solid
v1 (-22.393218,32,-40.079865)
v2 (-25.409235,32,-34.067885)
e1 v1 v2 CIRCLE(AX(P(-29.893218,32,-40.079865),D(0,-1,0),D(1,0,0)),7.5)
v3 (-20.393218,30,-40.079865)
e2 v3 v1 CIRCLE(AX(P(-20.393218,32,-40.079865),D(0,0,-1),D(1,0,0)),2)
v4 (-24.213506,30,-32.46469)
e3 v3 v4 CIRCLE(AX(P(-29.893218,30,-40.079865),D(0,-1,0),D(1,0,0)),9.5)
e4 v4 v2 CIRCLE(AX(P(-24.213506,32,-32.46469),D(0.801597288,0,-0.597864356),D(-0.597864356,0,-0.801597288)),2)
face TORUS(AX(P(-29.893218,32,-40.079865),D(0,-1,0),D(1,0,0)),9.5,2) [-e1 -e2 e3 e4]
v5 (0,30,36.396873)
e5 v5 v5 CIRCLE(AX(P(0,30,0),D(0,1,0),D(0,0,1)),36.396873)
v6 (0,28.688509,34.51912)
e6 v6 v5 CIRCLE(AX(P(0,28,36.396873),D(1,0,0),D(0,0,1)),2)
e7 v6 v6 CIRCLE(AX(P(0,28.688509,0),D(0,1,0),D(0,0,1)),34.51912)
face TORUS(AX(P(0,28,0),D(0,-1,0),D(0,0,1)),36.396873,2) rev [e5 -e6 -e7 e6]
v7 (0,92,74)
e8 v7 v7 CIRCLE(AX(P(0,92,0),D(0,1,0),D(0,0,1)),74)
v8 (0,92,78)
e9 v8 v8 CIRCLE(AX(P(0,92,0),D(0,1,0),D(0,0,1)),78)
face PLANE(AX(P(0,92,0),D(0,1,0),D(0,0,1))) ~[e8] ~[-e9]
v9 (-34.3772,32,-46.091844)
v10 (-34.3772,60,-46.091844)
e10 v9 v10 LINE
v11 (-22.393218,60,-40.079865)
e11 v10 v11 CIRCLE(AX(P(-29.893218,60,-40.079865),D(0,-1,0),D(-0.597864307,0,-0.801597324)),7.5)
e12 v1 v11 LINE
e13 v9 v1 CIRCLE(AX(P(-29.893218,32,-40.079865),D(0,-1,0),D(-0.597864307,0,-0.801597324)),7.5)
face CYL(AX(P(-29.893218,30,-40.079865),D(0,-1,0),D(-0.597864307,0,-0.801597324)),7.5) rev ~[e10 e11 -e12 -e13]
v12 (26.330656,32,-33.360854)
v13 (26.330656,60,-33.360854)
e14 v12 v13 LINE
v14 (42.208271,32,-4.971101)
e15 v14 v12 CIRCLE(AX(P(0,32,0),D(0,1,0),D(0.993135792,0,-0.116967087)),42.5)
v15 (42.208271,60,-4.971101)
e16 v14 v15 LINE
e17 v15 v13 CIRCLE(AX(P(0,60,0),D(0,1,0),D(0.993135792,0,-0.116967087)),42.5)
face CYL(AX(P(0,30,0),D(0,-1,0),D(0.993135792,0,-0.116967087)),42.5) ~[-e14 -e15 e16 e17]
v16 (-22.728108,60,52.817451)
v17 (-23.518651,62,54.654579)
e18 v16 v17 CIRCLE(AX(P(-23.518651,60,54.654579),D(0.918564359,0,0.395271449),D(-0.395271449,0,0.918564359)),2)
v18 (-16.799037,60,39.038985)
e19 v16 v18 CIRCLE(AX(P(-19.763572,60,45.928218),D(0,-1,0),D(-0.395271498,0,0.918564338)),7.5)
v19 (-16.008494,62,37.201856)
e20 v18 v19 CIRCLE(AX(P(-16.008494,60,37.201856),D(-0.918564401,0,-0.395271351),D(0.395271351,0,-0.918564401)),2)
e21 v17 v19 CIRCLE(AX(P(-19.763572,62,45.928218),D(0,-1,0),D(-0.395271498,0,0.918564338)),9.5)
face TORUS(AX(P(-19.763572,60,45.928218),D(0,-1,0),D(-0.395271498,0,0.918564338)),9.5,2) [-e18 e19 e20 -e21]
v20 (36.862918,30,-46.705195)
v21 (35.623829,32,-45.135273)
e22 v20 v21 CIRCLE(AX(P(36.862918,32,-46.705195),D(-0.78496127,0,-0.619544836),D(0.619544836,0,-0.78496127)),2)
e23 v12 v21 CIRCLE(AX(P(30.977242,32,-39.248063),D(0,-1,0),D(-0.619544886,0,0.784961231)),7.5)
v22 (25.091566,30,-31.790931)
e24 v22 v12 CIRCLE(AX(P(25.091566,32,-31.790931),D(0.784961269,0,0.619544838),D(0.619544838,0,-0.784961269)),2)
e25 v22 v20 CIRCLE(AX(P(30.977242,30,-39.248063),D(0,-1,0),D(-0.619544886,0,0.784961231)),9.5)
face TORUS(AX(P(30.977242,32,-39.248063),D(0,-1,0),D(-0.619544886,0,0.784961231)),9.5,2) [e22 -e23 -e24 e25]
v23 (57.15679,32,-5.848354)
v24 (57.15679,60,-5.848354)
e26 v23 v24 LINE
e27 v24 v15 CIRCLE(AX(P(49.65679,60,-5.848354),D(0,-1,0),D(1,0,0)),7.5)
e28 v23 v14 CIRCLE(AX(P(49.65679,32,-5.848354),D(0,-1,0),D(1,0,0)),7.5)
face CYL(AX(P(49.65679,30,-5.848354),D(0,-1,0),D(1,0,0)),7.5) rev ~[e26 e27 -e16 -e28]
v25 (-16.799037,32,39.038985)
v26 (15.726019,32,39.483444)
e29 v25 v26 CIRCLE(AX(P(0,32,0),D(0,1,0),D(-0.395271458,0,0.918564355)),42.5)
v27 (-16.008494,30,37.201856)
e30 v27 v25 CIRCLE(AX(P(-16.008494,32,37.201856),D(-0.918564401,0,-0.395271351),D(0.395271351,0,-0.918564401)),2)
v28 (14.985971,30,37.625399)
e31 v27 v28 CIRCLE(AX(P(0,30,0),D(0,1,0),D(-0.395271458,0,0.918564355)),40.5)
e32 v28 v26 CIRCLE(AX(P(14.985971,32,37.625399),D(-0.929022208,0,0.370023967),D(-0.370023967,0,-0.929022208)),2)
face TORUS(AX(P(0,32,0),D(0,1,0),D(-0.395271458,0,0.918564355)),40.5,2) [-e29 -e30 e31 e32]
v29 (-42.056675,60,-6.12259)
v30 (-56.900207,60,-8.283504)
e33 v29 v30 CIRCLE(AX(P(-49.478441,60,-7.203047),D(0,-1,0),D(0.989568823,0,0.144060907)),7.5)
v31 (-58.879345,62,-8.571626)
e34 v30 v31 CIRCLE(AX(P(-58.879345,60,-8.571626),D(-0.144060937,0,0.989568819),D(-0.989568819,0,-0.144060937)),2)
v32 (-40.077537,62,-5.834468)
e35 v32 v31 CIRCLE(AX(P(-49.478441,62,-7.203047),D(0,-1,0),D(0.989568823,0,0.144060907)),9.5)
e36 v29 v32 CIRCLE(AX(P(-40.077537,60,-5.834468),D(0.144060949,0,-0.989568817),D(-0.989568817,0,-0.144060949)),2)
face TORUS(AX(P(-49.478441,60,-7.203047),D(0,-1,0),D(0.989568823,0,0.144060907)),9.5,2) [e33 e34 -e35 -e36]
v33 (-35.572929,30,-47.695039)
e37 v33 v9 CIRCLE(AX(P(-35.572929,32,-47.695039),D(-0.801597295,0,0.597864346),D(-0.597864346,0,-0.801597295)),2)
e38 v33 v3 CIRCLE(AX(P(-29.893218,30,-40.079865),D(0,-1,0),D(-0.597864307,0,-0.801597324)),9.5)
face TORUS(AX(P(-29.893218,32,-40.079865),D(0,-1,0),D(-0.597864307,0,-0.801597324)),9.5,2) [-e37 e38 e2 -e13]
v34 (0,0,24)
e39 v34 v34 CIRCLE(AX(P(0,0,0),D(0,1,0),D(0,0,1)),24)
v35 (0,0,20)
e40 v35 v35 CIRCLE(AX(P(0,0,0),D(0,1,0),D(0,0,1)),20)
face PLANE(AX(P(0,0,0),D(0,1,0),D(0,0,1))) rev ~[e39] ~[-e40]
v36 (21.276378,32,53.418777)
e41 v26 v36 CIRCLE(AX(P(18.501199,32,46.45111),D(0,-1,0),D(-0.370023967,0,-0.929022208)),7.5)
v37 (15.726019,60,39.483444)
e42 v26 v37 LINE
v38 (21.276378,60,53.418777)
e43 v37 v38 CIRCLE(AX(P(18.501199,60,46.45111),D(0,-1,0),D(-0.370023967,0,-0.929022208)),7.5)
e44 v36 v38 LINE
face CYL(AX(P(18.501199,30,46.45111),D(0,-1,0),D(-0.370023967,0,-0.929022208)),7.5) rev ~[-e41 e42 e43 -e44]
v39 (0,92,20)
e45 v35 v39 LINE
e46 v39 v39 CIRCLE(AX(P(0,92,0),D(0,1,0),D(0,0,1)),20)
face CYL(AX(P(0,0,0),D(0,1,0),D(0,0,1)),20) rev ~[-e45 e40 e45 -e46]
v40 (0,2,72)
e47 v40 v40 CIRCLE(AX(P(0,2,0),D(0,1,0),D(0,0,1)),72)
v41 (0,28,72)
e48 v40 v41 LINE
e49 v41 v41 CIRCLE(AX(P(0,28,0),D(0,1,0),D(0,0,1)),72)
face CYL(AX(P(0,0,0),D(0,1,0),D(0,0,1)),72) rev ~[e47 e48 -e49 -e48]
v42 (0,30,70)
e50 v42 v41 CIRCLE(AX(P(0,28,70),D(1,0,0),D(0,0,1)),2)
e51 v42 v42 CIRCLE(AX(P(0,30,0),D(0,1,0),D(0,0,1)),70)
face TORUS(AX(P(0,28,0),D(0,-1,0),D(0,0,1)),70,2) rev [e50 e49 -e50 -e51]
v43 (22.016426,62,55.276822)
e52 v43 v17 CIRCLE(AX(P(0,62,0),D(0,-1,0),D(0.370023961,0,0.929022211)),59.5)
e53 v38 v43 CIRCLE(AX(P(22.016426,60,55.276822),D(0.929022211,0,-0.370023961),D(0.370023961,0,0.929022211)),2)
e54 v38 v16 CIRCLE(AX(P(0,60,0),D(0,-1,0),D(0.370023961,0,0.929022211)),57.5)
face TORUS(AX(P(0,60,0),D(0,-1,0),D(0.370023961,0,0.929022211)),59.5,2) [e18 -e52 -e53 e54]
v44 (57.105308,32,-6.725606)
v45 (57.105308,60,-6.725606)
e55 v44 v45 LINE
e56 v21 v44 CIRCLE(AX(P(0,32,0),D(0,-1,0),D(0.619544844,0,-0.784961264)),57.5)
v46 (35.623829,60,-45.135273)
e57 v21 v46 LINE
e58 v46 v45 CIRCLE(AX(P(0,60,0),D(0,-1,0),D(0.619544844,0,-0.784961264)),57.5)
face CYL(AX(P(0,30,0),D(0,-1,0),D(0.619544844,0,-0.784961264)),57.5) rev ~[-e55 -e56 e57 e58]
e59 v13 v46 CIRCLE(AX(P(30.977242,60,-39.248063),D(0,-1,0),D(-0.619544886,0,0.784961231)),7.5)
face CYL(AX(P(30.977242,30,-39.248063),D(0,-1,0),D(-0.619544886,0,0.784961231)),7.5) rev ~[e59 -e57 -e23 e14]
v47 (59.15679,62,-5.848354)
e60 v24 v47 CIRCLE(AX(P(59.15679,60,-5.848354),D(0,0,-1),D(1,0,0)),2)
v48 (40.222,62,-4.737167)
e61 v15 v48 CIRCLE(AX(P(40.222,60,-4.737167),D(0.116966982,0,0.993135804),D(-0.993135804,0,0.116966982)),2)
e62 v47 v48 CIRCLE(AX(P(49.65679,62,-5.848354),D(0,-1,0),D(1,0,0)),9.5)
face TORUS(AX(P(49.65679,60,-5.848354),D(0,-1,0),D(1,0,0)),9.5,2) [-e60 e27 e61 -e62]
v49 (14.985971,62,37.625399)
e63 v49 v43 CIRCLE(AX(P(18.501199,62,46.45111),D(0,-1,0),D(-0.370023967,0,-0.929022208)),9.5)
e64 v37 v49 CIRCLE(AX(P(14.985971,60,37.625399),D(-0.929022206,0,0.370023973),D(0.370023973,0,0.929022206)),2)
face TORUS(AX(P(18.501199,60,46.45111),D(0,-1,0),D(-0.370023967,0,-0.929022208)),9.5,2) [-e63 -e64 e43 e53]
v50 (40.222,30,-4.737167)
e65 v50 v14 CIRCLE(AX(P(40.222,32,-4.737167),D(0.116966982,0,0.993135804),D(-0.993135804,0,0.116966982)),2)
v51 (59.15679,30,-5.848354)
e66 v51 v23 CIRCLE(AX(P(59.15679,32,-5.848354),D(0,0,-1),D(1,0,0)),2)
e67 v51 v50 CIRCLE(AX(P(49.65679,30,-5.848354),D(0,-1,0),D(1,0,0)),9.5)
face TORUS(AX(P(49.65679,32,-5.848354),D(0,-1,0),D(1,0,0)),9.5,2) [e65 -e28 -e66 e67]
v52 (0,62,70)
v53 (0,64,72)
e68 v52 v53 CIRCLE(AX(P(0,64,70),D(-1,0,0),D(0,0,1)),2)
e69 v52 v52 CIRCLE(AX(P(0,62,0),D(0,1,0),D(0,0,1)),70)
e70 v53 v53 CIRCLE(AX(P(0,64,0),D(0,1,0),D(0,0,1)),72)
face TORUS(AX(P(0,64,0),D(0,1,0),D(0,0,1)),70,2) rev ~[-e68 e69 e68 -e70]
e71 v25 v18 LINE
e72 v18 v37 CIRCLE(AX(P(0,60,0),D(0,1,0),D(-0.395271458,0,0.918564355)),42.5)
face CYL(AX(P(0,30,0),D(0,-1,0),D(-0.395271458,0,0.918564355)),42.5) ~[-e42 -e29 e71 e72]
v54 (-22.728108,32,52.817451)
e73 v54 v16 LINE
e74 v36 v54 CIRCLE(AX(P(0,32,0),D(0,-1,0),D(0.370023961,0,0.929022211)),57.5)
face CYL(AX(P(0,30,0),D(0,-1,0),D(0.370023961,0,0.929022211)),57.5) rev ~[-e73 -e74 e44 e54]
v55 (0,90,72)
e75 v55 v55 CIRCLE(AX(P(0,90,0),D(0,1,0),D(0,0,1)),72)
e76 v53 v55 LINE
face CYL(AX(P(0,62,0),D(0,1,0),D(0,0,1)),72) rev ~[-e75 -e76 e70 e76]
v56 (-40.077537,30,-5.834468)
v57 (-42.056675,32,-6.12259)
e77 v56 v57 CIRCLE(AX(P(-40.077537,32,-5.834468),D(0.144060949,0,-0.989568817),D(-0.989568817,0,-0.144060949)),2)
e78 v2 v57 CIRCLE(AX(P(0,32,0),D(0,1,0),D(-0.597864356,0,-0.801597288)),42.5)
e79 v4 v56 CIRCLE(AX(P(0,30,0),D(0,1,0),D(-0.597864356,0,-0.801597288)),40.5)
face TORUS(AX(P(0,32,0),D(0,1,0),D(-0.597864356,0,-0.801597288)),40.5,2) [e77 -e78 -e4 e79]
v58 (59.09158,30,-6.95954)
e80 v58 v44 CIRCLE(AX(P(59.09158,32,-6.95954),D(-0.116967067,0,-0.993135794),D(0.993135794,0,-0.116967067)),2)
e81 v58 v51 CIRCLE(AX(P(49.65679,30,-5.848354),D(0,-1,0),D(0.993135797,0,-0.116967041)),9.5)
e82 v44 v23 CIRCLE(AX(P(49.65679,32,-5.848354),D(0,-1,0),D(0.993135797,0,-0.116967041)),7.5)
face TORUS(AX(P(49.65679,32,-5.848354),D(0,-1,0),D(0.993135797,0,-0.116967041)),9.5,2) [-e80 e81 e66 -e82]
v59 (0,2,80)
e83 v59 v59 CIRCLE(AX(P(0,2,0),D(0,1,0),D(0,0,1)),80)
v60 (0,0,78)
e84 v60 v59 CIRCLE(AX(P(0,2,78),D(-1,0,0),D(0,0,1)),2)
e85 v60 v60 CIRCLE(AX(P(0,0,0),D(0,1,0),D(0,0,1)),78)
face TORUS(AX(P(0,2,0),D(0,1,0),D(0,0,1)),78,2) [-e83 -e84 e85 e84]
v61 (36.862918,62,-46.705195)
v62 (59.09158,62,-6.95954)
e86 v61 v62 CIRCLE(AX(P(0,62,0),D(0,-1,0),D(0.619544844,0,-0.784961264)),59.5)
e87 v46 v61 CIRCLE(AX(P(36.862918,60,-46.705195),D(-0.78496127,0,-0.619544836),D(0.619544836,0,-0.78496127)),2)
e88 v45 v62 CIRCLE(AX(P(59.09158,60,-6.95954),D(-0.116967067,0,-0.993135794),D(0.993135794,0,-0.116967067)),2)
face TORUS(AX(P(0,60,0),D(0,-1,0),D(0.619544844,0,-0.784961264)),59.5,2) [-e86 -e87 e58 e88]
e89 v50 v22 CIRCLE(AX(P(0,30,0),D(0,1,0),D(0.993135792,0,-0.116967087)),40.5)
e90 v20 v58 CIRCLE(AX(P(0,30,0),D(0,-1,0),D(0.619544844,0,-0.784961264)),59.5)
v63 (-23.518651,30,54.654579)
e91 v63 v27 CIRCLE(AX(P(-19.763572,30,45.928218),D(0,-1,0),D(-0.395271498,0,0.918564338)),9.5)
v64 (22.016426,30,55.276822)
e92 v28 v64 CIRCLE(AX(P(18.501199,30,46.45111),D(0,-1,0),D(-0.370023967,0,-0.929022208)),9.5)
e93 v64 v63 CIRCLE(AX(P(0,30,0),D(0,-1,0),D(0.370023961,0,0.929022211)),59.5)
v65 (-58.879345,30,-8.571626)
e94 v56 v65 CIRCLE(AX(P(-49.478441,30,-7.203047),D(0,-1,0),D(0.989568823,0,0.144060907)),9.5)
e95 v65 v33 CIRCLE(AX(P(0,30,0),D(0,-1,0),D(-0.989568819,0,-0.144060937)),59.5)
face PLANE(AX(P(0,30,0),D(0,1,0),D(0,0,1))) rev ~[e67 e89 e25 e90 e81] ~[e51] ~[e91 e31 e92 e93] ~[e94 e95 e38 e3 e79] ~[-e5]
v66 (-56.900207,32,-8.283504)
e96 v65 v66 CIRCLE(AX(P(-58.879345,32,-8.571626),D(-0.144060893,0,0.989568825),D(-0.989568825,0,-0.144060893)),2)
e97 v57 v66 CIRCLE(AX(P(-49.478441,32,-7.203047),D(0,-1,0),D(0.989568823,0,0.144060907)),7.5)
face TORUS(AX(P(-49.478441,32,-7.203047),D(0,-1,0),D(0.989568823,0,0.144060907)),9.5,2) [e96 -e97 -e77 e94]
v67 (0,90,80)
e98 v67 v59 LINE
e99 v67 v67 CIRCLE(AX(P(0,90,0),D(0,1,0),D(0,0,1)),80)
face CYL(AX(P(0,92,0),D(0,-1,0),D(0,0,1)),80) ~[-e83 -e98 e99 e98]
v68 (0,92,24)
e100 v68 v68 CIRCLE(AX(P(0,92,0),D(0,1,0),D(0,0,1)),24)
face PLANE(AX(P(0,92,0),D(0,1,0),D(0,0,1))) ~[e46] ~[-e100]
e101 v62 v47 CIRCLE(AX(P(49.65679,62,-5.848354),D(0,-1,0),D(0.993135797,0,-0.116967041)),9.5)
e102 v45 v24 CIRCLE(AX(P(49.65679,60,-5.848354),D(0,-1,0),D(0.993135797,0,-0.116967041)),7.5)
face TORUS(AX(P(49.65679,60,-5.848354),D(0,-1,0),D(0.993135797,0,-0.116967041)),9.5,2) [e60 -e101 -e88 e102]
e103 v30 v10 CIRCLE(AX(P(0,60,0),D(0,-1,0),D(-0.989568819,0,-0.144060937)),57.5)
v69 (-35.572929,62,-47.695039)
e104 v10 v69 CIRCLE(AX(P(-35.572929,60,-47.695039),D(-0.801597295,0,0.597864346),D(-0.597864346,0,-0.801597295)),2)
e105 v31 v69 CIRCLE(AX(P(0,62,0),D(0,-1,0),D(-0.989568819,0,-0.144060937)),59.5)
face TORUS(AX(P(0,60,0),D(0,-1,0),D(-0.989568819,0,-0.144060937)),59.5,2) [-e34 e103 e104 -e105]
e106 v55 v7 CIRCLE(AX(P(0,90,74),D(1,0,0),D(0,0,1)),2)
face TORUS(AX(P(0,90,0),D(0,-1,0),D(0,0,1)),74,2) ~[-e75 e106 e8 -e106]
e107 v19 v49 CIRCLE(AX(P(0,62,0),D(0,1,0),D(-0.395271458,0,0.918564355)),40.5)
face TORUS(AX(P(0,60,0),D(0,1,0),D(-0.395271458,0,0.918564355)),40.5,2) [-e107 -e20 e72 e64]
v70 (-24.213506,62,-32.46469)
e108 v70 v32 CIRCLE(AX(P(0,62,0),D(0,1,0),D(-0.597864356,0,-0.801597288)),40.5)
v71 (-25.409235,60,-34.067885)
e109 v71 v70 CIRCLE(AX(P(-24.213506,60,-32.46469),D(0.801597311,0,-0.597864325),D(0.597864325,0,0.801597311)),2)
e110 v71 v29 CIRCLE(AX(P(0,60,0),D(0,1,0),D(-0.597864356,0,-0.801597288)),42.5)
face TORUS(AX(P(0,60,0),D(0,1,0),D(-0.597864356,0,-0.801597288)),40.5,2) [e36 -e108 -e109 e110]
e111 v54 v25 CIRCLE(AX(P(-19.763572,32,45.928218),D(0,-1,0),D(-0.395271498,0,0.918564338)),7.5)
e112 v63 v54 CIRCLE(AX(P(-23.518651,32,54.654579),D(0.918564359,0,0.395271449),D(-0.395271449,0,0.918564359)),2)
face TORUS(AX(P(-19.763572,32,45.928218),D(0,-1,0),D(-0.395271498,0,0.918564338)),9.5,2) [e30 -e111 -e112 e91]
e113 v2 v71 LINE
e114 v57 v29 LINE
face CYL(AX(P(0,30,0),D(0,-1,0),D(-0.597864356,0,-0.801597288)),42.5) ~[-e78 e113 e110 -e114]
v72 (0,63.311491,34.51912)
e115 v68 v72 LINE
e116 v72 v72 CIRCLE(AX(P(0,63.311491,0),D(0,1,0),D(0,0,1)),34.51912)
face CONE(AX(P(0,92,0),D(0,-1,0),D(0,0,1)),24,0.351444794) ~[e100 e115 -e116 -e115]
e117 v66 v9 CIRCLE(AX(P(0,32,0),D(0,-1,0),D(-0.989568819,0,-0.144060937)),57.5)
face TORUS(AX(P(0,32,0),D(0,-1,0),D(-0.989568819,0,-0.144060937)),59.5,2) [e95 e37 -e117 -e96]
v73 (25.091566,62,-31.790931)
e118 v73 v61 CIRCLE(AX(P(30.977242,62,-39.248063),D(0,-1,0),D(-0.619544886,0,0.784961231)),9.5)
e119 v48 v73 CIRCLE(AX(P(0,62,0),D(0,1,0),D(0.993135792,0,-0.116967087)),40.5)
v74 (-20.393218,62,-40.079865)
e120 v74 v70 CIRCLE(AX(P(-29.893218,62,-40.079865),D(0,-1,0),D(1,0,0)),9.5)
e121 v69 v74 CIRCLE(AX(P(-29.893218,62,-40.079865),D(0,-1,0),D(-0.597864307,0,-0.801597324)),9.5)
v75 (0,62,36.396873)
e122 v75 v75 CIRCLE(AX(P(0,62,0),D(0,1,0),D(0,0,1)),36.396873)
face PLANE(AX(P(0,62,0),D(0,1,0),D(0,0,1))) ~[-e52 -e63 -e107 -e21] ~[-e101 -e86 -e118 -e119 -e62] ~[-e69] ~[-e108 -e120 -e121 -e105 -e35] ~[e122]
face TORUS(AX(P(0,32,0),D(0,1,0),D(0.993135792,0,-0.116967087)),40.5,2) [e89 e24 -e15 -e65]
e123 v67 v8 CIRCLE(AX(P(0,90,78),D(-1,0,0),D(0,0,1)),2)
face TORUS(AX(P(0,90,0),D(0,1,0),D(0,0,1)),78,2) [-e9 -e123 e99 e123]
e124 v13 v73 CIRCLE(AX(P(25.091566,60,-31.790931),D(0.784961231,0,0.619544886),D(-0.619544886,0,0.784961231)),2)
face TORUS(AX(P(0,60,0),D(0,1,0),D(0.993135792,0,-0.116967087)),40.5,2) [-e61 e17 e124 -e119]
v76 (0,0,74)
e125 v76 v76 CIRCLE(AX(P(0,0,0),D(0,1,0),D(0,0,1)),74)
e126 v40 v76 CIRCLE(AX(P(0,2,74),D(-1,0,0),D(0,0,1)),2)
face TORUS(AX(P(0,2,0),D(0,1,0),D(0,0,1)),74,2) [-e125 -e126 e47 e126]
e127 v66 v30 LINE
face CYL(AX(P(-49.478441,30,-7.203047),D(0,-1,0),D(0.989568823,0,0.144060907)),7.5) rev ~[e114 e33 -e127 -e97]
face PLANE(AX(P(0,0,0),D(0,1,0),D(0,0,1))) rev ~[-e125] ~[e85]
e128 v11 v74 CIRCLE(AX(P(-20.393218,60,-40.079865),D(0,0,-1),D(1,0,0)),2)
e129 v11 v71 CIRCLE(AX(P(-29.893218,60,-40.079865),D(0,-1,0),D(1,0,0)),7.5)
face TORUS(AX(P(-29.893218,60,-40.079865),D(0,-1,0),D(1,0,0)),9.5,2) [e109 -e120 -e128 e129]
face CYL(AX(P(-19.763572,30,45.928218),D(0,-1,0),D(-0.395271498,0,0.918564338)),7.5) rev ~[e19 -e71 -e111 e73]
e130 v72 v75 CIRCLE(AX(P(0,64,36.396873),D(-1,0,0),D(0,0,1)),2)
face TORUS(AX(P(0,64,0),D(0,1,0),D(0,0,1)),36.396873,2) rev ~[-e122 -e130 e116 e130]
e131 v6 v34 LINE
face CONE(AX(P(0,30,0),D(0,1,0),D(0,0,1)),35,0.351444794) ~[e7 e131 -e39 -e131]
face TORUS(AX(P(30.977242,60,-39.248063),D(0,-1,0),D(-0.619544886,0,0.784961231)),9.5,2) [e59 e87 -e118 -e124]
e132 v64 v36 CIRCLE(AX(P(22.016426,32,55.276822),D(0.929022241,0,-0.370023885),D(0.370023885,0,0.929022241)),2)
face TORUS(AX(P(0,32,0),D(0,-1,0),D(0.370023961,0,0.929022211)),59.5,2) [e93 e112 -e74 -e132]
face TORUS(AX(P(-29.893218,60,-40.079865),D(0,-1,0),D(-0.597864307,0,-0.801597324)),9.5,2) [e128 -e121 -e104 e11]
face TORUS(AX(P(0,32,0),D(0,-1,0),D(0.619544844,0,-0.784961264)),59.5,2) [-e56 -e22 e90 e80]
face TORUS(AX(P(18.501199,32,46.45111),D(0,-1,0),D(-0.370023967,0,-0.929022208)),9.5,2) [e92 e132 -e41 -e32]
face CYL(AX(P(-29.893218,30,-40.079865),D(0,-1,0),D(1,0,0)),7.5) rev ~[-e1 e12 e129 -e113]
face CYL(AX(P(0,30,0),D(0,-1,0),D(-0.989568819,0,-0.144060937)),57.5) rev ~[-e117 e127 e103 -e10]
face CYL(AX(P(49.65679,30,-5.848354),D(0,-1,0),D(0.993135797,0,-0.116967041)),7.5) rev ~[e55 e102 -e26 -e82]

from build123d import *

# Parameters (mm, degrees)
F3_DEPTH = 62.001
F4_R     = 2
F5_R     = 2


with BuildPart() as f1:
    # F0 (on Right) → F1 (revolve)
    with BuildSketch(Plane.YZ):
        Polygon((0, 24), (0, 20), (92, 20), (92, 24), (62, 35), (62, 72), (92, 72), (92, 80), (0, 80), (0, 72), (30, 72), (30, 35), align=None)
    revolve(axis=Axis((0, 51.2057207525, 0), (0, 1, 0)))

    # F2 (on face) → F3 (cut, through all)
    with BuildSketch(Plane.XZ.offset(-30)):
        with BuildLine():
            ThreePointArc((-22.7281083285, 52.8174506372), (-15.6394977593, 52.1925625116), (-12.2635720946, 45.9282181024))
            ThreePointArc((-12.2635720946, 45.9282181024), (-13.4992280146, 41.8041432671), (-16.7990369604, 39.0389850944))
            ThreePointArc((-16.7990369604, 39.0389850944), (-0.5807132102, 42.4960324285), (15.7260188662, 39.4834437533))
            ThreePointArc((15.7260188662, 39.4834437533), (11.5335319328, 49.2262897601), (21.2763777532, 53.4187771266))
            ThreePointArc((21.2763777532, 53.4187771266), (-0.7856709251, 57.4946321077), (-22.7281083285, 52.8174506372))
        make_face()
        with BuildLine():
            ThreePointArc((26.0011986194, 46.4511103166), (24.7086072375, 50.6603950834), (21.2763777532, 53.4187771266))
            ThreePointArc((21.2763777532, 53.4187771266), (11.5335319328, 49.2262897601), (15.7260188662, 39.4834437533))
            ThreePointArc((15.7260188662, 39.4834437533), (22.7104831103, 40.2437015114), (26.0011986194, 46.4511103166))
        make_face()
        with BuildLine():
            ThreePointArc((-16.7990369604, 39.0389850944), (-13.4992280146, 41.8041432671), (-12.2635720946, 45.9282181024))
            ThreePointArc((-12.2635720946, 45.9282181024), (-15.6394977593, 52.1925625116), (-22.7281083285, 52.8174506372))
            ThreePointArc((-22.7281083285, 52.8174506372), (-26.652804866, 42.9636824183), (-16.7990369604, 39.0389850944))
        make_face()
        with BuildLine():
            ThreePointArc((-41.9784408779, -7.2030471534), (-48.9367981893, -14.683463131), (-56.900207064, -8.2835038525))
            ThreePointArc((-56.900207064, -8.2835038525), (-49.398976813, -29.4277265488), (-34.3771998845, -46.0918444858))
            ThreePointArc((-34.3771998845, -46.0918444858), (-35.9051974615, -35.5958821838), (-25.4092351426, -34.0678847225))
            ThreePointArc((-25.4092351426, -34.0678847225), (-36.5122872112, -21.7509283159), (-42.0566747073, -6.1225903476))
            ThreePointArc((-42.0566747073, -6.1225903476), (-41.9980249042, -6.6614044111), (-41.9784408779, -7.2030471534))
        make_face()
        with BuildLine():
            ThreePointArc((-25.4092351426, -34.0678847225), (-35.9051974615, -35.5958821838), (-34.3771998845, -46.0918444858))
            ThreePointArc((-34.3771998845, -46.0918444858), (-26.53017337, -46.7835899102), (-22.3932175799, -40.0798645547))
            ThreePointArc((-22.3932175799, -40.0798645547), (-23.1894921873, -36.7168204187), (-25.4092351426, -34.0678847225))
        make_face()
        with BuildLine():
            ThreePointArc((-42.0566747073, -6.1225903476), (-50.5588976303, 0.2187190249), (-56.900207064, -8.2835038525))
            ThreePointArc((-56.900207064, -8.2835038525), (-48.9367981893, -14.683463131), (-41.9784408779, -7.2030471534))
            ThreePointArc((-41.9784408779, -7.2030471534), (-41.9980249042, -6.6614044111), (-42.0566747073, -6.1225903476))
        make_face()
        with BuildLine():
            ThreePointArc((35.623828529, -45.1352726915), (50.1846471988, -28.0669055212), (57.1053081524, -6.7256063536))
            ThreePointArc((57.1053081524, -6.7256063536), (48.7795370883, -13.2968720514), (42.208271145, -4.9711011812))
            ThreePointArc((42.208271145, -4.9711011812), (37.0929998191, -20.7451045893), (26.330655613, -33.3608539308))
            ThreePointArc((26.330655613, -33.3608539308), (34.2483735734, -32.4990113838), (38.4772422585, -39.2480631632))
            ThreePointArc((38.4772422585, -39.2480631632), (37.7262939337, -42.519194693), (35.623828529, -45.1352726915))
        make_face()
        with BuildLine():
            ThreePointArc((42.208271145, -4.9711011812), (48.7795370883, -13.2968720514), (57.1053081524, -6.7256063536))
            ThreePointArc((57.1053081524, -6.7256063536), (57.1439082319, -6.2877345989), (57.1567896745, -5.8483535477))
            ThreePointArc((57.1567896745, -5.8483535477), (50.0961705049, 1.6387650226), (42.208271145, -4.9711011812))
        make_face()
        with BuildLine():
            ThreePointArc((26.330655613, -33.3608539308), (25.0900328781, -43.8946496212), (35.623828529, -45.1352726915))
            ThreePointArc((35.623828529, -45.1352726915), (37.7262939337, -42.519194693), (38.4772422585, -39.2480631632))
            ThreePointArc((38.4772422585, -39.2480631632), (34.2483735734, -32.4990113838), (26.330655613, -33.3608539308))
        make_face()
    extrude(amount=-F3_DEPTH, mode=Mode.SUBTRACT)

    # F4
    f4_edges = [f1.edges().sort_by_distance(p)[0] for p in [
        (0, 0, -80),
        (0, 0, -72),
        (0, 30, -35),
        (25.468865, 30, 43.675931),
        (-0.580713, 30, 42.496032),
        (-26.652805, 30, 42.963682),
        (-0.785671, 30, 57.494632),
        (50.534042, 30, 1.600165),
        (50.184647, 30, -28.066906),
        (37.093, 30, -20.745105),
        (25.090033, 30, -43.89465),
        (-36.512287, 30, -21.750928),
        (-23.881238, 30, -44.563847),
        (-49.398977, 30, -29.427727),
        (-50.558898, 30, 0.218719),
        (0, 92, -80),
        (0, 92, -72),
        (-0.785671, 62, 57.494632),
        (-26.652805, 62, 42.963682),
        (25.468865, 62, 43.675931),
        (-0.580713, 62, 42.496032),
        (0, 62, -35),
        (-49.398977, 62, -29.427727),
        (-50.558898, 62, 0.218719),
        (-23.881238, 62, -44.563847),
        (-36.512287, 62, -21.750928),
        (25.090033, 62, -43.89465),
        (50.184647, 62, -28.066906),
        (50.534042, 62, 1.600165),
        (37.093, 62, -20.745105),
    ]]
    fillet(f4_edges, radius=F4_R)

    # F5
    f5_edges = [f1.edges().sort_by_distance(p)[0] for p in [
        (0, 30, -72),
        (0, 62, -72),
    ]]
    fillet(f5_edges, radius=F5_R)


solid = f1.part
